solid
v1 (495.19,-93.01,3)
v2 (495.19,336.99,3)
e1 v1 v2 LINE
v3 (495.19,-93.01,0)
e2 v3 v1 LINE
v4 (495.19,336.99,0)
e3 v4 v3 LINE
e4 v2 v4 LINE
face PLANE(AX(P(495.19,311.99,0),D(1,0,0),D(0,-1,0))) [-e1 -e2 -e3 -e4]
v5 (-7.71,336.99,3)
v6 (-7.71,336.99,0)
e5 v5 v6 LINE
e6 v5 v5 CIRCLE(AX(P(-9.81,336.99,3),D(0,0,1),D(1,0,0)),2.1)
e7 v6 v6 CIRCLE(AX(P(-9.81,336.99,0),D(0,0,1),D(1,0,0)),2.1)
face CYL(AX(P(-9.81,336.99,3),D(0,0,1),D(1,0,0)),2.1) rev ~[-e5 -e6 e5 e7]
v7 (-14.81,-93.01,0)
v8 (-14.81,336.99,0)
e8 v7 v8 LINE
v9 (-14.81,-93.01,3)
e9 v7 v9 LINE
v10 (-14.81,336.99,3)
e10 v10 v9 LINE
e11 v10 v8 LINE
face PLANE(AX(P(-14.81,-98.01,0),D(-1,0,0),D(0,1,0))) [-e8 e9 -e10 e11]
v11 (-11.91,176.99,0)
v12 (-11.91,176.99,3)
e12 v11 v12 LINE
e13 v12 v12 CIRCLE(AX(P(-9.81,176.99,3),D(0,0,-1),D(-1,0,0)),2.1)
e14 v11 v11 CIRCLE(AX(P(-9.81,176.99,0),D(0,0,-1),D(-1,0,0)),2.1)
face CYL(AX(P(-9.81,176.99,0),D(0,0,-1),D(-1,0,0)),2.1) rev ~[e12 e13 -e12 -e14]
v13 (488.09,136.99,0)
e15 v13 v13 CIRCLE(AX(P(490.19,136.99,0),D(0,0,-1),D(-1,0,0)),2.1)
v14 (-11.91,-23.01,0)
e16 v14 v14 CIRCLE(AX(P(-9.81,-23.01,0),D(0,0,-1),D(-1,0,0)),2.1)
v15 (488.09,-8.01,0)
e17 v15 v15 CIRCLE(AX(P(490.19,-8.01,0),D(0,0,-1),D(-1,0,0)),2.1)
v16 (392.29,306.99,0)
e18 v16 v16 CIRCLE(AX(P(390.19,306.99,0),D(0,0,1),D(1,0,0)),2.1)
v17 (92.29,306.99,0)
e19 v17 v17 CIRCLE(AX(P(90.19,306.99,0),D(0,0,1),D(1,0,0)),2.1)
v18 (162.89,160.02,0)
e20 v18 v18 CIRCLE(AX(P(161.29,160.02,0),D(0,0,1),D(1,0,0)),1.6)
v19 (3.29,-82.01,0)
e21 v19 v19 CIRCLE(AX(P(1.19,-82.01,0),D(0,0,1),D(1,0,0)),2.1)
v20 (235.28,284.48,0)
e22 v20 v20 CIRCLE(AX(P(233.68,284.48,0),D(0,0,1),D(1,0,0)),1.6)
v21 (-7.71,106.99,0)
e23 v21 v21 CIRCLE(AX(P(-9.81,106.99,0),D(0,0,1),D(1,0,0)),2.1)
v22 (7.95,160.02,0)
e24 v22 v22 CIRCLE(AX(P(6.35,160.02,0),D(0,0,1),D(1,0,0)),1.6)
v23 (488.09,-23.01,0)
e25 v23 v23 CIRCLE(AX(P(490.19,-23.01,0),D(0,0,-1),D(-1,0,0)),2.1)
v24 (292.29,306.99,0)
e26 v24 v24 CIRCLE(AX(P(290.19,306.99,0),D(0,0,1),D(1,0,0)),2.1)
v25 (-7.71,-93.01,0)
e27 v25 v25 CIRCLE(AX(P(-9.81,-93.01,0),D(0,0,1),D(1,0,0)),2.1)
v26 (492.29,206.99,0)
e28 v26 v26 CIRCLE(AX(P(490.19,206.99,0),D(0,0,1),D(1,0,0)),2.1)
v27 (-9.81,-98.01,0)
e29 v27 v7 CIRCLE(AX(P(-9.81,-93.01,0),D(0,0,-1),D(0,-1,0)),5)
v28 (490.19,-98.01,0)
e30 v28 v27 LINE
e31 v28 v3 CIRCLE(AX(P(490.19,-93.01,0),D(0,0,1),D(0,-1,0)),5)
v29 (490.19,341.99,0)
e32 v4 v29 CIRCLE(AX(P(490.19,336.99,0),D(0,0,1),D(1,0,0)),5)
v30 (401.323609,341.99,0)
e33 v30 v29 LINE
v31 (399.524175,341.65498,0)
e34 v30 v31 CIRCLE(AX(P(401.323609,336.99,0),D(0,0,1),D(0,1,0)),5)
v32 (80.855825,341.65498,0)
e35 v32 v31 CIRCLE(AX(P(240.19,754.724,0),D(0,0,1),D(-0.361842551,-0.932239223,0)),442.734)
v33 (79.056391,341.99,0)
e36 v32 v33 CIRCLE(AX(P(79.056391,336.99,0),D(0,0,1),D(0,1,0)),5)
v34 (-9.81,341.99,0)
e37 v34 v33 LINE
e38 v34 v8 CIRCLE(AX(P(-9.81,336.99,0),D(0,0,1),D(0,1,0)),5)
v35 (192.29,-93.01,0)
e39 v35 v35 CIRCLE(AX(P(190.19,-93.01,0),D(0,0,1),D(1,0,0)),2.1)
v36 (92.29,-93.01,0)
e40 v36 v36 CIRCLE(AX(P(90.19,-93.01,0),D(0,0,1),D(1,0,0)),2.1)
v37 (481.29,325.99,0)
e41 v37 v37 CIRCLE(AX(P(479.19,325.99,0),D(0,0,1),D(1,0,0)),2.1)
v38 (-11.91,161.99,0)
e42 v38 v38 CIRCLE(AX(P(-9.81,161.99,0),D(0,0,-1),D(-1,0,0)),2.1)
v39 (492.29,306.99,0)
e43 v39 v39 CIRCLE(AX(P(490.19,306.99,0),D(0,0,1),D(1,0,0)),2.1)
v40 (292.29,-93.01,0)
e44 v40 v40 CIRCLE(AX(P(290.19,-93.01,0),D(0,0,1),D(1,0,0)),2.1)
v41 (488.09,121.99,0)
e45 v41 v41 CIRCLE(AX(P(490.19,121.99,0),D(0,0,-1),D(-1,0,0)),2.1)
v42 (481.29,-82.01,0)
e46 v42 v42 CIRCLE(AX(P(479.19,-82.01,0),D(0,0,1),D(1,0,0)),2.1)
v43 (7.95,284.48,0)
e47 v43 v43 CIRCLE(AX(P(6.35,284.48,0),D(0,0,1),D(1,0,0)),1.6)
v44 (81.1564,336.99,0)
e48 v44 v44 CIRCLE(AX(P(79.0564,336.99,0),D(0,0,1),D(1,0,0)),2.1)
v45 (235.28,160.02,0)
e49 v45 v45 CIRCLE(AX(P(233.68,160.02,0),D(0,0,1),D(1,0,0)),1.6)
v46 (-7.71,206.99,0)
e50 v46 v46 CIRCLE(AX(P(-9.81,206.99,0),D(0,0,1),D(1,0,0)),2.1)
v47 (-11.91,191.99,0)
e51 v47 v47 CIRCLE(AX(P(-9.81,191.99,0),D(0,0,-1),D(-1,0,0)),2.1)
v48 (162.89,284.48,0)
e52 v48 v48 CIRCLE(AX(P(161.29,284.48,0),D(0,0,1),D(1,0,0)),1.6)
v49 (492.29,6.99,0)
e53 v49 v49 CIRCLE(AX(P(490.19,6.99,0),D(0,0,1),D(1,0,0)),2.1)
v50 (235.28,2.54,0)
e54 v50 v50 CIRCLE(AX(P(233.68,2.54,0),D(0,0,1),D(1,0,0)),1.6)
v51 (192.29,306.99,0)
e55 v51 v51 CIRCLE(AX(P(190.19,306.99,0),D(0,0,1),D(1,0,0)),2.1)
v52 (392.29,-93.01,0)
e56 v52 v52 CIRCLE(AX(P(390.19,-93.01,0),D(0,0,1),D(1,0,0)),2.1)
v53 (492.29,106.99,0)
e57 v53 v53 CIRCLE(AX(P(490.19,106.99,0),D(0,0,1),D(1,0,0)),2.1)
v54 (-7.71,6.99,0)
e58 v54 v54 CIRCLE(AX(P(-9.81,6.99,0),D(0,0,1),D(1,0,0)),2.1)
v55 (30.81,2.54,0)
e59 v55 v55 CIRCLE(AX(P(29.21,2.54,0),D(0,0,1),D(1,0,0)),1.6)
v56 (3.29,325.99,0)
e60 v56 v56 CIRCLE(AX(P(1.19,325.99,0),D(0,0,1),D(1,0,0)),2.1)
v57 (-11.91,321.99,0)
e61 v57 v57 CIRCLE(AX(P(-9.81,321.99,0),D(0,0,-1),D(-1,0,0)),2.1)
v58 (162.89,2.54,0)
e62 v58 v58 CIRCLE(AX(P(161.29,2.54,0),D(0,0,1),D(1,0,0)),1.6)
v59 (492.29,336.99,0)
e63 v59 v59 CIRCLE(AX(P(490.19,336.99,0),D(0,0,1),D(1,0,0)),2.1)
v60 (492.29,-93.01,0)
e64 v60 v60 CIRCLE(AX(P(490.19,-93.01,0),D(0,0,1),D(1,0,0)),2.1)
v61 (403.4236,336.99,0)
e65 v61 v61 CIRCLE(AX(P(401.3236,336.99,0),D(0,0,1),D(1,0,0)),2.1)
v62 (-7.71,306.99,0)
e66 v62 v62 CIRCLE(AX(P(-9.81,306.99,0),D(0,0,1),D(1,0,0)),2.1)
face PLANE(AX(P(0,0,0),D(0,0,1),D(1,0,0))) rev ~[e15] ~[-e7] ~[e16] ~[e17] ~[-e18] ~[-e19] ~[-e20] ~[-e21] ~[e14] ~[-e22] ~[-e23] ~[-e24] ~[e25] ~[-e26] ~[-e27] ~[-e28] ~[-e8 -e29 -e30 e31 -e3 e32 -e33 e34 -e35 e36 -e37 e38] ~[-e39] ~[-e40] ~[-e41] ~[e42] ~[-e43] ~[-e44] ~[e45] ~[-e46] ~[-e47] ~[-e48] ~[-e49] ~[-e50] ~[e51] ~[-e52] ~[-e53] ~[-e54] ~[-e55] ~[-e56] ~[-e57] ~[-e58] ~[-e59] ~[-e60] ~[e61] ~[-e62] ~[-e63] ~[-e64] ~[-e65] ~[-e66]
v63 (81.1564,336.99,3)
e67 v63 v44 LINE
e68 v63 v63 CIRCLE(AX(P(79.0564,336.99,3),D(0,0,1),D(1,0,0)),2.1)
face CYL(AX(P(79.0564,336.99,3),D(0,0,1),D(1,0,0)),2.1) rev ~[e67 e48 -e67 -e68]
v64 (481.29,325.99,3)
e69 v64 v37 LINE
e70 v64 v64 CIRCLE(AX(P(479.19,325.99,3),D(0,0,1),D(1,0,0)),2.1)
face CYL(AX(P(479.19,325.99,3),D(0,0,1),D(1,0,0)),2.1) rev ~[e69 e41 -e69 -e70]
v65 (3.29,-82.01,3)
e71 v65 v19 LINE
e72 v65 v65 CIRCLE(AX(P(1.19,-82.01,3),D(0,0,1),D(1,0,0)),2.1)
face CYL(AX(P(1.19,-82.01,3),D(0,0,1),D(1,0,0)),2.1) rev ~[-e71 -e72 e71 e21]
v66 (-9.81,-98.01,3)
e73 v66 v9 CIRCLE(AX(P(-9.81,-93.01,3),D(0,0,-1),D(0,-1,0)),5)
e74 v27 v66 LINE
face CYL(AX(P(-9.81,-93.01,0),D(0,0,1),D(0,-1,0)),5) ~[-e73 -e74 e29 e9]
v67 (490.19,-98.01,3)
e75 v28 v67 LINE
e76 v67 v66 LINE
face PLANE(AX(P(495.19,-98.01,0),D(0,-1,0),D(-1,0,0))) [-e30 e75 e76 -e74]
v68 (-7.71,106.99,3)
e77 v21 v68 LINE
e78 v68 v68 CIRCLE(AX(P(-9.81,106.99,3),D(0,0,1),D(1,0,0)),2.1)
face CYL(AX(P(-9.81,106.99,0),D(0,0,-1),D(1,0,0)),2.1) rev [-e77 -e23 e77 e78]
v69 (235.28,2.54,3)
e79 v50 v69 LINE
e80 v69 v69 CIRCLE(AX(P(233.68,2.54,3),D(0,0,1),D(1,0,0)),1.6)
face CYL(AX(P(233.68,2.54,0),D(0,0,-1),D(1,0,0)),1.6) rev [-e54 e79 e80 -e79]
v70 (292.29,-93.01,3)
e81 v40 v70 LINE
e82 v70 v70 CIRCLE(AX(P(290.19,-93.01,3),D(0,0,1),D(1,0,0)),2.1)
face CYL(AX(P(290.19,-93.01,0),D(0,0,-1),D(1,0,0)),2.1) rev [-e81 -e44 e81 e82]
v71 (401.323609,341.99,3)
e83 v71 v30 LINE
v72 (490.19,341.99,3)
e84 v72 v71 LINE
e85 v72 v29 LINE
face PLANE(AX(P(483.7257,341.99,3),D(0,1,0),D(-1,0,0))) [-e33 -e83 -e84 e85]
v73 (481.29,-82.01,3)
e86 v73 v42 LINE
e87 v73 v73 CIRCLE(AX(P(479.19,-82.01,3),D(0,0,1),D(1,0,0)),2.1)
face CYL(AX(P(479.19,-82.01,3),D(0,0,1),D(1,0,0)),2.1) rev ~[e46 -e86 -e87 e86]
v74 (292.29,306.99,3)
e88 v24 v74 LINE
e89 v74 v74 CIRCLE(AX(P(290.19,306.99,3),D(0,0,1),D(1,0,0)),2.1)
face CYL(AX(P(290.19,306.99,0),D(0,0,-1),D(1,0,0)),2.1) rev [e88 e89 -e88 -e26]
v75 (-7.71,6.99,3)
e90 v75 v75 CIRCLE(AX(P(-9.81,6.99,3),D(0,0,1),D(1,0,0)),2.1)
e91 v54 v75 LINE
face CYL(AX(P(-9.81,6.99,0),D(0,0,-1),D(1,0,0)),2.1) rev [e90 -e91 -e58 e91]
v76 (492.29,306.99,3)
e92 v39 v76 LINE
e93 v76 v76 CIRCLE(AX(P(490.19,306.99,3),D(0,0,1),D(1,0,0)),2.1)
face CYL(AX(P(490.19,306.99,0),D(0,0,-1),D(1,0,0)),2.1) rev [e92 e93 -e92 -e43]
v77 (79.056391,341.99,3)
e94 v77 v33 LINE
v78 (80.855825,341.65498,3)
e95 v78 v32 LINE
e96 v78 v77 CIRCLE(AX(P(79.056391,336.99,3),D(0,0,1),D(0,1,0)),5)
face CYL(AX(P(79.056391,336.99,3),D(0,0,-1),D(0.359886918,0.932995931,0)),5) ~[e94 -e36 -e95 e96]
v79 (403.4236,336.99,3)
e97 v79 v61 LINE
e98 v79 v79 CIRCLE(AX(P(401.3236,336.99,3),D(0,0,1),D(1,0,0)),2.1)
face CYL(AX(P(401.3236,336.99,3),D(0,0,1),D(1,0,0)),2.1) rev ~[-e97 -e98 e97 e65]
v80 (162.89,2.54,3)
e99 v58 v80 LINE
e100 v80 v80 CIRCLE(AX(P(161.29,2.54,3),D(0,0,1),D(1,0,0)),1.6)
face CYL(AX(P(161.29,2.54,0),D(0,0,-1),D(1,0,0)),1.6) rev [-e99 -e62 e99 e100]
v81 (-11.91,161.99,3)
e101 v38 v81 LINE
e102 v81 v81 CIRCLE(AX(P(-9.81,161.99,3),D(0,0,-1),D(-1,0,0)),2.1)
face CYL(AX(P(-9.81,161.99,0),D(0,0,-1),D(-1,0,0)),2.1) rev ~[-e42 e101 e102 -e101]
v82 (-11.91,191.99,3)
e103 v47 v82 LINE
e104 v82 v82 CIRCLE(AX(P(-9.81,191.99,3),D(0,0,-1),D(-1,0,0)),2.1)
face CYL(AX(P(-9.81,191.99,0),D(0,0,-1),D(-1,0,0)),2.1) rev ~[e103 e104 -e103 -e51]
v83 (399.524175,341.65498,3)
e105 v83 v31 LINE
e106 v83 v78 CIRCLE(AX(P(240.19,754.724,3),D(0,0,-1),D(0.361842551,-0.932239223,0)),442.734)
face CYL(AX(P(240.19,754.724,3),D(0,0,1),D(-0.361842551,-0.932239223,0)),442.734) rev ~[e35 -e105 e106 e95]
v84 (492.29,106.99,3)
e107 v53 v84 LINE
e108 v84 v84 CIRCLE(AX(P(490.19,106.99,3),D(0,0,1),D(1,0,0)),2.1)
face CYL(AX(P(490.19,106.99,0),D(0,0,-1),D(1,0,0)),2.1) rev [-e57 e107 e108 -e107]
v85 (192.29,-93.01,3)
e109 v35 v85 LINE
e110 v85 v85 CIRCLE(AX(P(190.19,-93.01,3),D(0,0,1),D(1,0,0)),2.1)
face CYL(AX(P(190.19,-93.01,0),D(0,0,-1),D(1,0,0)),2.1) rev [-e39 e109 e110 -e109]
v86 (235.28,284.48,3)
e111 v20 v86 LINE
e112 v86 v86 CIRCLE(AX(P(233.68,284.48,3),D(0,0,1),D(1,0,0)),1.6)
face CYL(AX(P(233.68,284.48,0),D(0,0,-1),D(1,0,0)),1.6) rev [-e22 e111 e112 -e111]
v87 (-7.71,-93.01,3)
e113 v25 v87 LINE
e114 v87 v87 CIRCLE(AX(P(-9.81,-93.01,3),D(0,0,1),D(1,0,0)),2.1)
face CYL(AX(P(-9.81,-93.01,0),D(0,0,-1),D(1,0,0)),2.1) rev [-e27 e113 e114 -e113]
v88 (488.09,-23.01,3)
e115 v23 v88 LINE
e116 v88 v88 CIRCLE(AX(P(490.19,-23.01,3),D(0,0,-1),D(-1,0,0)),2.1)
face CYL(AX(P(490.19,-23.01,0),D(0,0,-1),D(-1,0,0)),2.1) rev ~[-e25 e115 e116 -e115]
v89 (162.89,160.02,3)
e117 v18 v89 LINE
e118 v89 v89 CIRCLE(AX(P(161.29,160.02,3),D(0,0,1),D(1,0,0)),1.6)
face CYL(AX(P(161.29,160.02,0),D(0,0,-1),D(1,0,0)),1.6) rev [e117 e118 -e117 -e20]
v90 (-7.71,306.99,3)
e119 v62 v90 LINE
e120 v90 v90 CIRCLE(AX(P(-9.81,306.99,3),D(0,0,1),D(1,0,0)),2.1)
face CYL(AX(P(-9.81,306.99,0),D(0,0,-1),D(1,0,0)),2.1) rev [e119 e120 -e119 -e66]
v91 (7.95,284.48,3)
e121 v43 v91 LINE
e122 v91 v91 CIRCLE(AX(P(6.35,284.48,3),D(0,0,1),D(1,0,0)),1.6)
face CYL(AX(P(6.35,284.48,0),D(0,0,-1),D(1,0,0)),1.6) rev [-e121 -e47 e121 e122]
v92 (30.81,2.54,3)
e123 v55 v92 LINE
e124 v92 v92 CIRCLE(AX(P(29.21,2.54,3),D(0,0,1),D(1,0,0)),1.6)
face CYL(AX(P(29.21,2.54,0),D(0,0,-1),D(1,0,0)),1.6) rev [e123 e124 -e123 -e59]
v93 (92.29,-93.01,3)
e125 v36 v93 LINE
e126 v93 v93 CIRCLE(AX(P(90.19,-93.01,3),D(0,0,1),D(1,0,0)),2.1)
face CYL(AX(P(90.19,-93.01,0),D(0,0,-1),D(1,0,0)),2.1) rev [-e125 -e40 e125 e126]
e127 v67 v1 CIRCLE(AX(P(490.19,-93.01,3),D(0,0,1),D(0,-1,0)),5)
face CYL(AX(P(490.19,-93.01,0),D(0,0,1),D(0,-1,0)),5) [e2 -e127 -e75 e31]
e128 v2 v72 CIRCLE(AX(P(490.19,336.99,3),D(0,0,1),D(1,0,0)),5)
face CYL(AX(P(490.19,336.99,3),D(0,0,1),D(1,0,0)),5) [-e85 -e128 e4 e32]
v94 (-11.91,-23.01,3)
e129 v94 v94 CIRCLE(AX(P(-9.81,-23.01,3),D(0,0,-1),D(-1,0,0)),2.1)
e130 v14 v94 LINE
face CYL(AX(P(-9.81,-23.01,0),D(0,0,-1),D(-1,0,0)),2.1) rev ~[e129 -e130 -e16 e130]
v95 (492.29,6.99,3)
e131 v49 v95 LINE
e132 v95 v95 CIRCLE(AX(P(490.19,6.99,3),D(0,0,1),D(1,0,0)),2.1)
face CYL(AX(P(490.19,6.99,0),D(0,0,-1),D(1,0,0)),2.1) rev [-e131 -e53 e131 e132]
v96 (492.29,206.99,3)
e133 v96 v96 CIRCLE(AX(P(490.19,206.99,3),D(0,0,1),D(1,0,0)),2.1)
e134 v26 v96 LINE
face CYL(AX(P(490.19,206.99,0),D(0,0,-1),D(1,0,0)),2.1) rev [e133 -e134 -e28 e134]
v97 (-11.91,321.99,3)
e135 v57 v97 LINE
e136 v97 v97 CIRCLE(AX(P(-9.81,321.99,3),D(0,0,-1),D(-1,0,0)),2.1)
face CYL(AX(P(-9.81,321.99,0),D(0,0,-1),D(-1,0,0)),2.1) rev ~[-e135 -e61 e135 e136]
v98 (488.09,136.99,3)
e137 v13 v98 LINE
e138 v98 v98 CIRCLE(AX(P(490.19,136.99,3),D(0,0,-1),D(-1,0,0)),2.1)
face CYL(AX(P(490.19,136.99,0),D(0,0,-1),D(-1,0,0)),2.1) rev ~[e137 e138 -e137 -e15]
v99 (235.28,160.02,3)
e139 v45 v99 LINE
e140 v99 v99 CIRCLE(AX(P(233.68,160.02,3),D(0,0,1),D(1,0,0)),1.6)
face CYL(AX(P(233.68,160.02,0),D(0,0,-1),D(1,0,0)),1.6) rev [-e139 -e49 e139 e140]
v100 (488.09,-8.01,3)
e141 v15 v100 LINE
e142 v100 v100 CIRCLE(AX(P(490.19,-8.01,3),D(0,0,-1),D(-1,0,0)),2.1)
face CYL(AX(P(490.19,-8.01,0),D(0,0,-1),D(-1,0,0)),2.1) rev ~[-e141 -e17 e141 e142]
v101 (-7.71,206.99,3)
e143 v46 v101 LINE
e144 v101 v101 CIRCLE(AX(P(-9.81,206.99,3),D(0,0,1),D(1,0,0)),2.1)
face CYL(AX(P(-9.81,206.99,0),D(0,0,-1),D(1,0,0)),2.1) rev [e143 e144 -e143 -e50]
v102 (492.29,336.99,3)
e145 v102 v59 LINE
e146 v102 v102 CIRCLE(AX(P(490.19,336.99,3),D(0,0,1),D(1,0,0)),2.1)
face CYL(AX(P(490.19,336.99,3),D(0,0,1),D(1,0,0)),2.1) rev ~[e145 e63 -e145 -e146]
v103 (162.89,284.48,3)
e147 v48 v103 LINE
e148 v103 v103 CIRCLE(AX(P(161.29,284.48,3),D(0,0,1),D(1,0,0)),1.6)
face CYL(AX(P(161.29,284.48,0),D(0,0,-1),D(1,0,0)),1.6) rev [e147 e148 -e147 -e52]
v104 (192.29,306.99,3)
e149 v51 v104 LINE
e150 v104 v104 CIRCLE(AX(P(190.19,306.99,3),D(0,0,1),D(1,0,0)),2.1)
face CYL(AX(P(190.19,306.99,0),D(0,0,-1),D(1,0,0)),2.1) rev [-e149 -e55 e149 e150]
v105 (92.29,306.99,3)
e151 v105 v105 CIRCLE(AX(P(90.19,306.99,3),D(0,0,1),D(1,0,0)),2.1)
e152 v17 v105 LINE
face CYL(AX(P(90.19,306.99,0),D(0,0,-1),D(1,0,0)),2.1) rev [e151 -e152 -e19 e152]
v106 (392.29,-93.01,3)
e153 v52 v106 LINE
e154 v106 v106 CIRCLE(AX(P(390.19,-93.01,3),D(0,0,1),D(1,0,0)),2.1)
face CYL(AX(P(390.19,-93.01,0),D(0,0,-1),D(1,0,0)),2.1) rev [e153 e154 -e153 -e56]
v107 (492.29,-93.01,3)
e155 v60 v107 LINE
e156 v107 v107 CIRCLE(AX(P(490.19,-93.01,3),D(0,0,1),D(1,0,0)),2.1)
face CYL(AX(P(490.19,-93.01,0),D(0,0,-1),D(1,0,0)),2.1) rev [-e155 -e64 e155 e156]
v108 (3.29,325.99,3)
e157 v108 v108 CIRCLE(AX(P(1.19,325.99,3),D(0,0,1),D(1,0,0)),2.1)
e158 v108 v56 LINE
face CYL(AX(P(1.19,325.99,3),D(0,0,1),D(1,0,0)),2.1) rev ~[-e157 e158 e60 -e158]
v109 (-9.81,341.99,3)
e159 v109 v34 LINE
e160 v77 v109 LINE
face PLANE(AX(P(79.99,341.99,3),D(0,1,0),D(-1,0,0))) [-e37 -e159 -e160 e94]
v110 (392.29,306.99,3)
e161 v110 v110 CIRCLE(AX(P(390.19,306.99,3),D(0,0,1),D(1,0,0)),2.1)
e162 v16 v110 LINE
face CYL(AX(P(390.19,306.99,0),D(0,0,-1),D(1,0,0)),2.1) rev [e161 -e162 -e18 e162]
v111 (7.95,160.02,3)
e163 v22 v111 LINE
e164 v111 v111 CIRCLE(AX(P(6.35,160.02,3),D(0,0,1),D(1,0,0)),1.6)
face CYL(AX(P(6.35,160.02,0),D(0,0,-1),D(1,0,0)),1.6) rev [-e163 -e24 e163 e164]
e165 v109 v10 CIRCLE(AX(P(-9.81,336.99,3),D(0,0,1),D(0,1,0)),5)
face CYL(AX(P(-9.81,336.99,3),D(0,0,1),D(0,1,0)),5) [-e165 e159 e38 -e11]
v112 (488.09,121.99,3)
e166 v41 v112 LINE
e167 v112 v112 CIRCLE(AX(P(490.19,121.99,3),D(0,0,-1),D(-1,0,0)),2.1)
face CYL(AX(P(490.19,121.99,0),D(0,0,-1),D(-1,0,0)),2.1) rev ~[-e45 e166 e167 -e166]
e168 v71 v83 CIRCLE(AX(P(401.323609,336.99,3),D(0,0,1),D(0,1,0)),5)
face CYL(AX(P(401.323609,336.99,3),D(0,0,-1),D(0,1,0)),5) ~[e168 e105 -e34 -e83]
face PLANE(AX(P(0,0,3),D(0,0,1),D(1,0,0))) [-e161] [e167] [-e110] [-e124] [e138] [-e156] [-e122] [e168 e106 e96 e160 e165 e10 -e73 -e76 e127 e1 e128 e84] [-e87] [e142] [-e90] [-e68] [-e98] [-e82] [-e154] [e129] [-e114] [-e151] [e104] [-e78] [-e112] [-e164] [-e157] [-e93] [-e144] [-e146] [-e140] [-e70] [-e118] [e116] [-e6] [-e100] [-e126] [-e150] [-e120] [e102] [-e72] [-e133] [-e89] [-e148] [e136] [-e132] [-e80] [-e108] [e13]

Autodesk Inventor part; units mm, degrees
ref_plane "YZ Plane" through (0, 0, 0) normal (1, 0, 0) x (0, 1, 0)
ref_plane "XZ Plane" through (0, 0, 0) normal (0, 1, 0) x (-1, 0, 0)
ref_plane "XY Plane" through (0, 0, 0) normal (0, 0, 1) x (1, 0, 0)
sketch "スケッチ1" plane through (0, 0, 0) normal (0, 0, 1) x (1, 0, 0)
  circle A0 centre (233.68, 2.54) radius 2.25 construction
  circle A1 centre (161.29, 2.54) radius 2.25 construction
  circle A2 centre (29.21, 2.54) radius 2.25 construction
  circle A3 centre (233.68, 160.02) radius 2.25 construction
  circle A4 centre (161.29, 160.02) radius 2.25 construction
  circle A5 centre (6.35, 160.02) radius 2.25 construction
  circle A6 centre (6.35, 284.48) radius 2.25 construction
  circle A7 centre (161.29, 284.48) radius 2.25 construction
  circle A8 centre (233.68, 284.48) radius 2.25 construction
  circle A9 centre (29.21, 2.54) radius 1.6
  circle A10 centre (161.29, 2.54) radius 1.6
  circle A11 centre (233.68, 2.54) radius 1.6
  circle A12 centre (233.68, 160.02) radius 1.6
  circle A13 centre (161.29, 160.02) radius 1.6
  circle A14 centre (6.35, 160.02) radius 1.6
  circle A15 centre (6.35, 284.48) radius 1.6
  circle A16 centre (161.29, 284.48) radius 1.6
  circle A17 centre (233.68, 284.48) radius 1.6
  line L0 (495.19, -98.01) -> (-14.81, -98.01)
  line L1 (-14.81, -98.01) -> (-14.81, 311.99)
  line L2 (-14.81, 311.99) -> (495.19, 311.99)
  line L3 (495.19, 311.99) -> (495.19, -98.01)
  line L4 (490.19, 306.99) -> (-9.81, 306.99) construction
  line L5 (-9.81, 306.99) -> (-9.81, -93.01) construction
  line L6 (-9.81, -93.01) -> (490.19, -93.01) construction
  line L7 (490.19, -93.01) -> (490.19, 306.99) construction
  circle A18 centre (-9.81, 306.99) radius 2.1
  circle A19 centre (490.19, 306.99) radius 2.1
  circle A20 centre (490.19, -93.01) radius 2.1
  circle A21 centre (-9.81, -93.01) radius 2.1
  circle A22 centre (-9.81, 6.99) radius 2.1
  circle A23 centre (-9.81, 106.99) radius 2.1
  circle A24 centre (-9.81, 206.99) radius 2.1
  circle A25 centre (90.19, 306.99) radius 2.1
  circle A26 centre (190.19, 306.99) radius 2.1
  circle A27 centre (290.19, 306.99) radius 2.1
  circle A28 centre (390.19, 306.99) radius 2.1
  line L8 (490.19, 106.99) -> (-9.81, 106.99) construction
  line L9 (240.19, -93.01) -> (240.19, 306.99) construction
  circle A29 centre (90.19, -93.01) radius 2.1
  circle A30 centre (190.19, -93.01) radius 2.1
  circle A31 centre (290.19, -93.01) radius 2.1
  circle A32 centre (390.19, -93.01) radius 2.1
  circle A33 centre (490.19, 6.99) radius 2.1
  circle A34 centre (490.19, 106.99) radius 2.1
  circle A35 centre (490.19, 206.99) radius 2.1
  point P0 (0, 0)
  point P1 (-3.81, 297.18)
  point P2 (0, 300.99)
  point P3 (3.7629, -59.9187)
  point P4 (-9.81, 106.99)
  dimension "d0" = 3.2
  dimension "d1" = 510
  dimension "d2" = 410
  dimension "d3" = 11
  dimension "d4" = 11
  dimension "d5" = 5
  dimension "d6" = 4.2
  dimension "d7" = 4.2
  dimension "d8" = 4.2
  dimension "d9" = 4.2
  dimension "d10" = 100
  dimension "d11" = 100
  dimension "d13" = 100
  dimension "d14" = 100
  dimension "d15" = 100
  dimension "d16" = 100
  dimension "d17" = 100
  dimension "d18" = 100
  dimension "d19" = 100
  dimension "d23" = 4.2
  dimension "d24" = 4.2
  dimension "d25" = 4.2
  dimension "d26" = 100
  dimension "d27" = 100
  dimension "d55" = 100
extrude "押し出し1" add sketch "スケッチ1" along normal blind 3
fillet "フィレット1" radius 5 4 edges at (495.19, -98.01, 1.5) (-14.81, -98.01, 1.5) (-14.81, 311.99, 1.5) (495.19, 311.99, 1.5)
sketch "スケッチ2" plane through (0, 0, 3) normal (0, 0, 1) x (1, 0, 0)
  line L0 (-6.934, 160.0686) -> (-6.134, 160.0686) construction
  line L1 (-6.134, 160.0686) -> (-6.134, 170.6186) construction
  line L2 (-6.134, 170.6186) -> (-6.934, 170.6186) construction
  line L3 (-6.934, 170.6186) -> (-6.934, 160.0686) construction
  line L4 (-6.934, 159.9686) -> (-6.134, 159.9686) construction
  line L5 (-6.134, 170.7186) -> (-6.934, 170.7186)
  arc A0 (-7.334, 161.353) -> (-6.934, 159.9686) centre (-6.934, 160.7186) ccw
  line L6 (-5.734, 159.9686) -> (-5.734, 170.7186) construction
  arc A1 (-6.934, 170.7186) -> (-7.334, 169.3342) centre (-6.934, 169.9686) ccw
  line L7 (-7.334, 161.353) -> (-7.334, 169.3342)
  arc A2 (-6.134, 159.9686) -> (-6.134, 161.4686) centre (-6.134, 160.7186) ccw construction
  arc A3 (-6.134, 169.2186) -> (-6.134, 170.7186) centre (-6.134, 169.9686) ccw construction
  arc A4 (-6.134, 159.9686) -> (-5.734, 161.353) centre (-6.134, 160.7186) ccw
  arc A5 (-5.734, 169.3342) -> (-6.134, 170.7186) centre (-6.134, 169.9686) ccw
  line L8 (-5.734, 161.353) -> (-5.734, 169.3342)
  line L9 (-6.934, 159.9686) -> (-6.134, 159.9686)
  line L10 (-7.334, 181.753) -> (-7.334, 189.7342)
  arc A6 (-7.334, 181.753) -> (-6.934, 180.3686) centre (-6.934, 181.1186) ccw
  arc A7 (-6.134, 180.3686) -> (-5.734, 181.753) centre (-6.134, 181.1186) ccw
  line L11 (-5.734, 181.753) -> (-5.734, 189.7342)
  line L12 (-6.934, 180.3686) -> (-6.134, 180.3686)
  arc A8 (-6.934, 191.1186) -> (-7.334, 189.7342) centre (-6.934, 190.3686) ccw
  line L13 (-6.134, 191.1186) -> (-6.934, 191.1186)
  arc A9 (-5.734, 189.7342) -> (-6.134, 191.1186) centre (-6.134, 190.3686) ccw
  line L14 (-7.334, 202.153) -> (-7.334, 210.1342)
  arc A10 (-7.334, 202.153) -> (-6.934, 200.7686) centre (-6.934, 201.5186) ccw
  arc A11 (-6.134, 200.7686) -> (-5.734, 202.153) centre (-6.134, 201.5186) ccw
  line L15 (-5.734, 202.153) -> (-5.734, 210.1342)
  line L16 (-6.934, 200.7686) -> (-6.134, 200.7686)
  arc A12 (-6.934, 211.5186) -> (-7.334, 210.1342) centre (-6.934, 210.7686) ccw
  line L17 (-6.134, 211.5186) -> (-6.934, 211.5186)
  arc A13 (-5.734, 210.1342) -> (-6.134, 211.5186) centre (-6.134, 210.7686) ccw
  line L18 (-7.334, 222.553) -> (-7.334, 230.5342)
  arc A14 (-7.334, 222.553) -> (-6.934, 221.1686) centre (-6.934, 221.9186) ccw
  arc A15 (-6.134, 221.1686) -> (-5.734, 222.553) centre (-6.134, 221.9186) ccw
  line L19 (-5.734, 222.553) -> (-5.734, 230.5342)
  line L20 (-6.934, 221.1686) -> (-6.134, 221.1686)
  arc A16 (-6.934, 231.9186) -> (-7.334, 230.5342) centre (-6.934, 231.1686) ccw
  line L21 (-6.134, 231.9186) -> (-6.934, 231.9186)
  arc A17 (-5.734, 230.5342) -> (-6.134, 231.9186) centre (-6.134, 231.1686) ccw
  line L22 (-7.334, 242.953) -> (-7.334, 250.9342)
  arc A18 (-7.334, 242.953) -> (-6.934, 241.5686) centre (-6.934, 242.3186) ccw
  arc A19 (-6.134, 241.5686) -> (-5.734, 242.953) centre (-6.134, 242.3186) ccw
  line L23 (-5.734, 242.953) -> (-5.734, 250.9342)
  line L24 (-6.934, 241.5686) -> (-6.134, 241.5686)
  arc A20 (-6.934, 252.3186) -> (-7.334, 250.9342) centre (-6.934, 251.5686) ccw
  line L25 (-6.134, 252.3186) -> (-6.934, 252.3186)
  arc A21 (-5.734, 250.9342) -> (-6.134, 252.3186) centre (-6.134, 251.5686) ccw
  line L26 (-7.334, 263.353) -> (-7.334, 271.3342)
  arc A22 (-7.334, 263.353) -> (-6.934, 261.9686) centre (-6.934, 262.7186) ccw
  arc A23 (-6.134, 261.9686) -> (-5.734, 263.353) centre (-6.134, 262.7186) ccw
  line L27 (-5.734, 263.353) -> (-5.734, 271.3342)
  line L28 (-6.934, 261.9686) -> (-6.134, 261.9686)
  arc A24 (-6.934, 272.7186) -> (-7.334, 271.3342) centre (-6.934, 271.9686) ccw
  line L29 (-6.134, 272.7186) -> (-6.934, 272.7186)
  arc A25 (-5.734, 271.3342) -> (-6.134, 272.7186) centre (-6.134, 271.9686) ccw
  line L30 (-7.334, 283.753) -> (-7.334, 291.7342)
  arc A26 (-7.334, 283.753) -> (-6.934, 282.3686) centre (-6.934, 283.1186) ccw
  arc A27 (-6.134, 282.3686) -> (-5.734, 283.753) centre (-6.134, 283.1186) ccw
  line L31 (-5.734, 283.753) -> (-5.734, 291.7342)
  line L32 (-6.934, 282.3686) -> (-6.134, 282.3686)
  arc A28 (-6.934, 293.1186) -> (-7.334, 291.7342) centre (-6.934, 292.3686) ccw
  line L33 (-6.134, 293.1186) -> (-6.934, 293.1186)
  arc A29 (-5.734, 291.7342) -> (-6.134, 293.1186) centre (-6.134, 292.3686) ccw
  point P0 (0, 0)
  point P1 (-6.934, 180.4686)
  point P2 (-6.134, 191.0186)
  dimension "d34" = 20.4
  dimension "d37" = 1.5
  dimension "d39" = 0.1
  dimension "d40" = 0.1
  dimension "d41" = 1.6
  dimension "d42" = 0.8
  dimension "d43" = 0.4
  dimension "d46" = 20.4
extrude "押し出し2" [suppressed]
sketch "スケッチ6" plane through (0, 0, 3) normal (0, 0, 1) x (1, 0, 0)
  arc A0 (379.99, -128.01) -> (100.39, -128.01) centre (240.19, -438.744) ccw
  arc A1 (483.7257, -128.01) -> (483.7257, 341.99) centre (-161.4767, 106.99) ccw
  arc A2 (79.99, 341.99) -> (400.39, 341.99) centre (240.19, 754.724) ccw
  arc A3 (-3.3457, 341.99) -> (-3.3457, -128.01) centre (641.8567, 106.99) ccw
  line L0 (-9.81, -98.01) -> (490.19, -98.01) projected
  arc A4 (490.19, -98.01) -> (495.19, -93.01) centre (490.19, -93.01) ccw projected
  line L1 (495.19, -93.01) -> (495.19, 306.99) projected
  arc A5 (495.19, 306.99) -> (490.19, 311.99) centre (490.19, 306.99) ccw projected
  line L2 (490.19, 311.99) -> (-9.81, 311.99) projected
  arc A6 (-9.81, 311.99) -> (-14.81, 306.99) centre (-9.81, 306.99) ccw projected
  line L3 (-14.81, 306.99) -> (-14.81, -93.01) projected
  arc A7 (-14.81, -93.01) -> (-9.81, -98.01) centre (-9.81, -93.01) ccw projected
  line L4 (483.7257, -128.01) -> (379.99, -128.01)
  line L5 (100.39, -128.01) -> (-3.3457, -128.01)
  line L6 (483.7257, 341.99) -> (400.39, 341.99)
  line L7 (79.99, 341.99) -> (-3.3457, 341.99)
  point P0 (0, 0)
  point P1 (-14.59, 308.457)
  point P2 (-14.59, -94.477)
  point P3 (494.97, -94.477)
  point P4 (494.97, 308.457)
  point P5 (240.19, 311.99)
  point P6 (240.19, -98.01)
extrude "押し出し5" add sketch "スケッチ6" against normal up to surface (3 mm away) contours A5 L2 A2 L6 A1 | A3 L7 A2 L2 A6
sketch "スケッチ7" plane through (0, 0, 3) normal (0, 0, 1) x (1, 0, 0)
  arc A0 (495.19, 306.99) -> (494.97, 308.457) centre (490.19, 306.99) ccw projected
  arc A1 (494.97, 308.457) -> (483.7257, 341.99) centre (-161.4767, 106.99) ccw projected
  arc A2 (-3.3457, 341.99) -> (-14.59, 308.457) centre (641.8567, 106.99) ccw projected
  arc A3 (-14.59, 308.457) -> (-14.81, 306.99) centre (-9.81, 306.99) ccw projected
  line L0 (-14.81, 306.99) -> (-14.81, 336.99)
  line L1 (-9.81, 341.99) -> (-3.3457, 341.99)
  arc A4 (495.19, 306.99) -> (494.97, 308.457) centre (490.19, 306.99) ccw projected
  line L2 (495.19, 306.99) -> (495.19, 336.99)
  line L3 (483.7257, 341.99) -> (400.39, 341.99) projected
  line L4 (490.19, 341.99) -> (483.7257, 341.99)
  arc A5 (-9.81, 341.99) -> (-14.81, 336.99) centre (-9.81, 336.99) ccw
  arc A6 (495.19, 336.99) -> (490.19, 341.99) centre (490.19, 336.99) ccw
  point P0 (0, 0)
  point P1 (-14.81, 341.99)
  point P2 (495.19, 341.99)
  dimension "d62" = 5
extrude "押し出し6" add sketch "スケッチ7" against normal up to surface (3 mm away)
fillet "フィレット2" radius 5 2 edges at (400.39, 341.99, 1.5) (79.99, 341.99, 1.5)
sketch "スケッチ8" plane through (0, 0, 3) normal (0, 0, 1) x (1, 0, 0)
  circle A0 centre (490.19, -93.01) radius 2.1 construction
  circle A1 centre (-9.81, -93.01) radius 2.1 construction
  arc A2 (-9.81, 341.99) -> (-14.81, 336.99) centre (-9.81, 336.99) ccw construction
  arc A3 (495.19, 336.99) -> (490.19, 341.99) centre (490.19, 336.99) ccw construction
  circle A4 centre (479.19, -82.01) radius 2.1
  circle A5 centre (1.19, -82.01) radius 2.1
  circle A6 centre (1.19, 325.99) radius 2.1
  circle A7 centre (479.19, 325.99) radius 2.1
  circle A8 centre (490.19, 336.99) radius 2.1
  circle A9 centre (-9.81, 336.99) radius 2.1
  arc A10 (401.3236, 341.99) -> (399.5242, 341.655) centre (401.3236, 336.99) ccw construction
  arc A11 (80.8558, 341.655) -> (79.0564, 341.99) centre (79.0564, 336.99) ccw construction
  circle A12 centre (79.0564, 336.99) radius 2.1
  circle A13 centre (401.3236, 336.99) radius 2.1
  point P0 (0, 0)
  dimension "d63" = 11
  dimension "d64" = 11
  dimension "d65" = 11
  dimension "d66" = 11
  dimension "d67" = 11
  dimension "d68" = 11
  dimension "d69" = 11
  dimension "d70" = 11
extrude "押し出し7" cut sketch "スケッチ8" against normal through all
sketch "スケッチ9" plane through (0, 0, 0) normal (0, 0, -1) x (-1, 0, 0)
  circle A0 centre (-490.19, 6.99) radius 2.1 construction
  line L0 (-490.19, 6.99) -> (-490.19, -23.01) construction
  circle A1 centre (-490.19, -23.01) radius 2.1
  circle A2 centre (-490.19, 106.99) radius 2.1 construction
  line L1 (-490.19, 106.99) -> (-490.19, 136.99) construction
  circle A3 centre (-490.19, 136.99) radius 2.1
  circle A4 centre (9.81, 206.99) radius 2.1 construction
  line L2 (9.81, 206.99) -> (9.81, 176.99) construction
  circle A5 centre (9.81, 176.99) radius 2.1
  circle A6 centre (-490.19, 121.99) radius 2.1
  circle A7 centre (9.81, 191.99) radius 2.1
  circle A8 centre (9.81, 161.99) radius 2.1
  circle A9 centre (9.81, 306.99) radius 2.1 construction
  circle A10 centre (9.81, 336.99) radius 2.1 construction
  circle A11 centre (9.81, 336.99) radius 2.1 construction
  line L3 (9.81, 306.99) -> (9.81, 336.99) construction
  circle A12 centre (9.81, 321.99) radius 2.1
  circle A13 centre (-490.19, -8.01) radius 2.1
  circle A14 centre (9.81, 6.99) radius 2.1 construction
  line L4 (9.81, 6.99) -> (9.81, -23.01) construction
  circle A15 centre (9.81, -23.01) radius 2.1
  point P0 (0, 0)
  dimension "d74" = 30
  dimension "d77" = 15
  dimension "d78" = 30
extrude "押し出し8" cut sketch "スケッチ9" against normal through all
equation "\"d10\" = -0.5 * d5 + 0.25 * d2"
equation "\"d11\" = d10"
equation "\"d13\" = -0.4 * d5 + 0.2 * d1"
equation "\"d14\" = d13"
equation "\"d15\" = d13"
equation "\"d16\" = d13"
equation "\"d17\" = d20"
equation "\"d18\" = d20"
equation "\"d19\" = d20"
equation "\"d26\" = d28"
equation "\"d27\" = d26"
equation "\"d40\" = d39"
equation "\"d43\" = -0.5 * d42 + 0.5 * d41"
equation "\"d46\" = d34"
equation "\"d65\" = d63"
equation "\"d66\" = d63"
equation "\"d67\" = d63"
equation "\"d68\" = d63"
equation "\"d69\" = d63"
equation "\"d70\" = d63"
equation "\"d77\" = 0.5 * d74"
equation "\"d20\" = -0.4 * d22 + 0.2 * d21"
equation "\"d28\" = -0.5 * d30 + 0.25 * d29"
equation "\"d22\" = 5"
equation "\"d21\" = 510"
equation "\"d30\" = 5"
equation "\"d29\" = 410"
properties part number "riglt_plate_01"
